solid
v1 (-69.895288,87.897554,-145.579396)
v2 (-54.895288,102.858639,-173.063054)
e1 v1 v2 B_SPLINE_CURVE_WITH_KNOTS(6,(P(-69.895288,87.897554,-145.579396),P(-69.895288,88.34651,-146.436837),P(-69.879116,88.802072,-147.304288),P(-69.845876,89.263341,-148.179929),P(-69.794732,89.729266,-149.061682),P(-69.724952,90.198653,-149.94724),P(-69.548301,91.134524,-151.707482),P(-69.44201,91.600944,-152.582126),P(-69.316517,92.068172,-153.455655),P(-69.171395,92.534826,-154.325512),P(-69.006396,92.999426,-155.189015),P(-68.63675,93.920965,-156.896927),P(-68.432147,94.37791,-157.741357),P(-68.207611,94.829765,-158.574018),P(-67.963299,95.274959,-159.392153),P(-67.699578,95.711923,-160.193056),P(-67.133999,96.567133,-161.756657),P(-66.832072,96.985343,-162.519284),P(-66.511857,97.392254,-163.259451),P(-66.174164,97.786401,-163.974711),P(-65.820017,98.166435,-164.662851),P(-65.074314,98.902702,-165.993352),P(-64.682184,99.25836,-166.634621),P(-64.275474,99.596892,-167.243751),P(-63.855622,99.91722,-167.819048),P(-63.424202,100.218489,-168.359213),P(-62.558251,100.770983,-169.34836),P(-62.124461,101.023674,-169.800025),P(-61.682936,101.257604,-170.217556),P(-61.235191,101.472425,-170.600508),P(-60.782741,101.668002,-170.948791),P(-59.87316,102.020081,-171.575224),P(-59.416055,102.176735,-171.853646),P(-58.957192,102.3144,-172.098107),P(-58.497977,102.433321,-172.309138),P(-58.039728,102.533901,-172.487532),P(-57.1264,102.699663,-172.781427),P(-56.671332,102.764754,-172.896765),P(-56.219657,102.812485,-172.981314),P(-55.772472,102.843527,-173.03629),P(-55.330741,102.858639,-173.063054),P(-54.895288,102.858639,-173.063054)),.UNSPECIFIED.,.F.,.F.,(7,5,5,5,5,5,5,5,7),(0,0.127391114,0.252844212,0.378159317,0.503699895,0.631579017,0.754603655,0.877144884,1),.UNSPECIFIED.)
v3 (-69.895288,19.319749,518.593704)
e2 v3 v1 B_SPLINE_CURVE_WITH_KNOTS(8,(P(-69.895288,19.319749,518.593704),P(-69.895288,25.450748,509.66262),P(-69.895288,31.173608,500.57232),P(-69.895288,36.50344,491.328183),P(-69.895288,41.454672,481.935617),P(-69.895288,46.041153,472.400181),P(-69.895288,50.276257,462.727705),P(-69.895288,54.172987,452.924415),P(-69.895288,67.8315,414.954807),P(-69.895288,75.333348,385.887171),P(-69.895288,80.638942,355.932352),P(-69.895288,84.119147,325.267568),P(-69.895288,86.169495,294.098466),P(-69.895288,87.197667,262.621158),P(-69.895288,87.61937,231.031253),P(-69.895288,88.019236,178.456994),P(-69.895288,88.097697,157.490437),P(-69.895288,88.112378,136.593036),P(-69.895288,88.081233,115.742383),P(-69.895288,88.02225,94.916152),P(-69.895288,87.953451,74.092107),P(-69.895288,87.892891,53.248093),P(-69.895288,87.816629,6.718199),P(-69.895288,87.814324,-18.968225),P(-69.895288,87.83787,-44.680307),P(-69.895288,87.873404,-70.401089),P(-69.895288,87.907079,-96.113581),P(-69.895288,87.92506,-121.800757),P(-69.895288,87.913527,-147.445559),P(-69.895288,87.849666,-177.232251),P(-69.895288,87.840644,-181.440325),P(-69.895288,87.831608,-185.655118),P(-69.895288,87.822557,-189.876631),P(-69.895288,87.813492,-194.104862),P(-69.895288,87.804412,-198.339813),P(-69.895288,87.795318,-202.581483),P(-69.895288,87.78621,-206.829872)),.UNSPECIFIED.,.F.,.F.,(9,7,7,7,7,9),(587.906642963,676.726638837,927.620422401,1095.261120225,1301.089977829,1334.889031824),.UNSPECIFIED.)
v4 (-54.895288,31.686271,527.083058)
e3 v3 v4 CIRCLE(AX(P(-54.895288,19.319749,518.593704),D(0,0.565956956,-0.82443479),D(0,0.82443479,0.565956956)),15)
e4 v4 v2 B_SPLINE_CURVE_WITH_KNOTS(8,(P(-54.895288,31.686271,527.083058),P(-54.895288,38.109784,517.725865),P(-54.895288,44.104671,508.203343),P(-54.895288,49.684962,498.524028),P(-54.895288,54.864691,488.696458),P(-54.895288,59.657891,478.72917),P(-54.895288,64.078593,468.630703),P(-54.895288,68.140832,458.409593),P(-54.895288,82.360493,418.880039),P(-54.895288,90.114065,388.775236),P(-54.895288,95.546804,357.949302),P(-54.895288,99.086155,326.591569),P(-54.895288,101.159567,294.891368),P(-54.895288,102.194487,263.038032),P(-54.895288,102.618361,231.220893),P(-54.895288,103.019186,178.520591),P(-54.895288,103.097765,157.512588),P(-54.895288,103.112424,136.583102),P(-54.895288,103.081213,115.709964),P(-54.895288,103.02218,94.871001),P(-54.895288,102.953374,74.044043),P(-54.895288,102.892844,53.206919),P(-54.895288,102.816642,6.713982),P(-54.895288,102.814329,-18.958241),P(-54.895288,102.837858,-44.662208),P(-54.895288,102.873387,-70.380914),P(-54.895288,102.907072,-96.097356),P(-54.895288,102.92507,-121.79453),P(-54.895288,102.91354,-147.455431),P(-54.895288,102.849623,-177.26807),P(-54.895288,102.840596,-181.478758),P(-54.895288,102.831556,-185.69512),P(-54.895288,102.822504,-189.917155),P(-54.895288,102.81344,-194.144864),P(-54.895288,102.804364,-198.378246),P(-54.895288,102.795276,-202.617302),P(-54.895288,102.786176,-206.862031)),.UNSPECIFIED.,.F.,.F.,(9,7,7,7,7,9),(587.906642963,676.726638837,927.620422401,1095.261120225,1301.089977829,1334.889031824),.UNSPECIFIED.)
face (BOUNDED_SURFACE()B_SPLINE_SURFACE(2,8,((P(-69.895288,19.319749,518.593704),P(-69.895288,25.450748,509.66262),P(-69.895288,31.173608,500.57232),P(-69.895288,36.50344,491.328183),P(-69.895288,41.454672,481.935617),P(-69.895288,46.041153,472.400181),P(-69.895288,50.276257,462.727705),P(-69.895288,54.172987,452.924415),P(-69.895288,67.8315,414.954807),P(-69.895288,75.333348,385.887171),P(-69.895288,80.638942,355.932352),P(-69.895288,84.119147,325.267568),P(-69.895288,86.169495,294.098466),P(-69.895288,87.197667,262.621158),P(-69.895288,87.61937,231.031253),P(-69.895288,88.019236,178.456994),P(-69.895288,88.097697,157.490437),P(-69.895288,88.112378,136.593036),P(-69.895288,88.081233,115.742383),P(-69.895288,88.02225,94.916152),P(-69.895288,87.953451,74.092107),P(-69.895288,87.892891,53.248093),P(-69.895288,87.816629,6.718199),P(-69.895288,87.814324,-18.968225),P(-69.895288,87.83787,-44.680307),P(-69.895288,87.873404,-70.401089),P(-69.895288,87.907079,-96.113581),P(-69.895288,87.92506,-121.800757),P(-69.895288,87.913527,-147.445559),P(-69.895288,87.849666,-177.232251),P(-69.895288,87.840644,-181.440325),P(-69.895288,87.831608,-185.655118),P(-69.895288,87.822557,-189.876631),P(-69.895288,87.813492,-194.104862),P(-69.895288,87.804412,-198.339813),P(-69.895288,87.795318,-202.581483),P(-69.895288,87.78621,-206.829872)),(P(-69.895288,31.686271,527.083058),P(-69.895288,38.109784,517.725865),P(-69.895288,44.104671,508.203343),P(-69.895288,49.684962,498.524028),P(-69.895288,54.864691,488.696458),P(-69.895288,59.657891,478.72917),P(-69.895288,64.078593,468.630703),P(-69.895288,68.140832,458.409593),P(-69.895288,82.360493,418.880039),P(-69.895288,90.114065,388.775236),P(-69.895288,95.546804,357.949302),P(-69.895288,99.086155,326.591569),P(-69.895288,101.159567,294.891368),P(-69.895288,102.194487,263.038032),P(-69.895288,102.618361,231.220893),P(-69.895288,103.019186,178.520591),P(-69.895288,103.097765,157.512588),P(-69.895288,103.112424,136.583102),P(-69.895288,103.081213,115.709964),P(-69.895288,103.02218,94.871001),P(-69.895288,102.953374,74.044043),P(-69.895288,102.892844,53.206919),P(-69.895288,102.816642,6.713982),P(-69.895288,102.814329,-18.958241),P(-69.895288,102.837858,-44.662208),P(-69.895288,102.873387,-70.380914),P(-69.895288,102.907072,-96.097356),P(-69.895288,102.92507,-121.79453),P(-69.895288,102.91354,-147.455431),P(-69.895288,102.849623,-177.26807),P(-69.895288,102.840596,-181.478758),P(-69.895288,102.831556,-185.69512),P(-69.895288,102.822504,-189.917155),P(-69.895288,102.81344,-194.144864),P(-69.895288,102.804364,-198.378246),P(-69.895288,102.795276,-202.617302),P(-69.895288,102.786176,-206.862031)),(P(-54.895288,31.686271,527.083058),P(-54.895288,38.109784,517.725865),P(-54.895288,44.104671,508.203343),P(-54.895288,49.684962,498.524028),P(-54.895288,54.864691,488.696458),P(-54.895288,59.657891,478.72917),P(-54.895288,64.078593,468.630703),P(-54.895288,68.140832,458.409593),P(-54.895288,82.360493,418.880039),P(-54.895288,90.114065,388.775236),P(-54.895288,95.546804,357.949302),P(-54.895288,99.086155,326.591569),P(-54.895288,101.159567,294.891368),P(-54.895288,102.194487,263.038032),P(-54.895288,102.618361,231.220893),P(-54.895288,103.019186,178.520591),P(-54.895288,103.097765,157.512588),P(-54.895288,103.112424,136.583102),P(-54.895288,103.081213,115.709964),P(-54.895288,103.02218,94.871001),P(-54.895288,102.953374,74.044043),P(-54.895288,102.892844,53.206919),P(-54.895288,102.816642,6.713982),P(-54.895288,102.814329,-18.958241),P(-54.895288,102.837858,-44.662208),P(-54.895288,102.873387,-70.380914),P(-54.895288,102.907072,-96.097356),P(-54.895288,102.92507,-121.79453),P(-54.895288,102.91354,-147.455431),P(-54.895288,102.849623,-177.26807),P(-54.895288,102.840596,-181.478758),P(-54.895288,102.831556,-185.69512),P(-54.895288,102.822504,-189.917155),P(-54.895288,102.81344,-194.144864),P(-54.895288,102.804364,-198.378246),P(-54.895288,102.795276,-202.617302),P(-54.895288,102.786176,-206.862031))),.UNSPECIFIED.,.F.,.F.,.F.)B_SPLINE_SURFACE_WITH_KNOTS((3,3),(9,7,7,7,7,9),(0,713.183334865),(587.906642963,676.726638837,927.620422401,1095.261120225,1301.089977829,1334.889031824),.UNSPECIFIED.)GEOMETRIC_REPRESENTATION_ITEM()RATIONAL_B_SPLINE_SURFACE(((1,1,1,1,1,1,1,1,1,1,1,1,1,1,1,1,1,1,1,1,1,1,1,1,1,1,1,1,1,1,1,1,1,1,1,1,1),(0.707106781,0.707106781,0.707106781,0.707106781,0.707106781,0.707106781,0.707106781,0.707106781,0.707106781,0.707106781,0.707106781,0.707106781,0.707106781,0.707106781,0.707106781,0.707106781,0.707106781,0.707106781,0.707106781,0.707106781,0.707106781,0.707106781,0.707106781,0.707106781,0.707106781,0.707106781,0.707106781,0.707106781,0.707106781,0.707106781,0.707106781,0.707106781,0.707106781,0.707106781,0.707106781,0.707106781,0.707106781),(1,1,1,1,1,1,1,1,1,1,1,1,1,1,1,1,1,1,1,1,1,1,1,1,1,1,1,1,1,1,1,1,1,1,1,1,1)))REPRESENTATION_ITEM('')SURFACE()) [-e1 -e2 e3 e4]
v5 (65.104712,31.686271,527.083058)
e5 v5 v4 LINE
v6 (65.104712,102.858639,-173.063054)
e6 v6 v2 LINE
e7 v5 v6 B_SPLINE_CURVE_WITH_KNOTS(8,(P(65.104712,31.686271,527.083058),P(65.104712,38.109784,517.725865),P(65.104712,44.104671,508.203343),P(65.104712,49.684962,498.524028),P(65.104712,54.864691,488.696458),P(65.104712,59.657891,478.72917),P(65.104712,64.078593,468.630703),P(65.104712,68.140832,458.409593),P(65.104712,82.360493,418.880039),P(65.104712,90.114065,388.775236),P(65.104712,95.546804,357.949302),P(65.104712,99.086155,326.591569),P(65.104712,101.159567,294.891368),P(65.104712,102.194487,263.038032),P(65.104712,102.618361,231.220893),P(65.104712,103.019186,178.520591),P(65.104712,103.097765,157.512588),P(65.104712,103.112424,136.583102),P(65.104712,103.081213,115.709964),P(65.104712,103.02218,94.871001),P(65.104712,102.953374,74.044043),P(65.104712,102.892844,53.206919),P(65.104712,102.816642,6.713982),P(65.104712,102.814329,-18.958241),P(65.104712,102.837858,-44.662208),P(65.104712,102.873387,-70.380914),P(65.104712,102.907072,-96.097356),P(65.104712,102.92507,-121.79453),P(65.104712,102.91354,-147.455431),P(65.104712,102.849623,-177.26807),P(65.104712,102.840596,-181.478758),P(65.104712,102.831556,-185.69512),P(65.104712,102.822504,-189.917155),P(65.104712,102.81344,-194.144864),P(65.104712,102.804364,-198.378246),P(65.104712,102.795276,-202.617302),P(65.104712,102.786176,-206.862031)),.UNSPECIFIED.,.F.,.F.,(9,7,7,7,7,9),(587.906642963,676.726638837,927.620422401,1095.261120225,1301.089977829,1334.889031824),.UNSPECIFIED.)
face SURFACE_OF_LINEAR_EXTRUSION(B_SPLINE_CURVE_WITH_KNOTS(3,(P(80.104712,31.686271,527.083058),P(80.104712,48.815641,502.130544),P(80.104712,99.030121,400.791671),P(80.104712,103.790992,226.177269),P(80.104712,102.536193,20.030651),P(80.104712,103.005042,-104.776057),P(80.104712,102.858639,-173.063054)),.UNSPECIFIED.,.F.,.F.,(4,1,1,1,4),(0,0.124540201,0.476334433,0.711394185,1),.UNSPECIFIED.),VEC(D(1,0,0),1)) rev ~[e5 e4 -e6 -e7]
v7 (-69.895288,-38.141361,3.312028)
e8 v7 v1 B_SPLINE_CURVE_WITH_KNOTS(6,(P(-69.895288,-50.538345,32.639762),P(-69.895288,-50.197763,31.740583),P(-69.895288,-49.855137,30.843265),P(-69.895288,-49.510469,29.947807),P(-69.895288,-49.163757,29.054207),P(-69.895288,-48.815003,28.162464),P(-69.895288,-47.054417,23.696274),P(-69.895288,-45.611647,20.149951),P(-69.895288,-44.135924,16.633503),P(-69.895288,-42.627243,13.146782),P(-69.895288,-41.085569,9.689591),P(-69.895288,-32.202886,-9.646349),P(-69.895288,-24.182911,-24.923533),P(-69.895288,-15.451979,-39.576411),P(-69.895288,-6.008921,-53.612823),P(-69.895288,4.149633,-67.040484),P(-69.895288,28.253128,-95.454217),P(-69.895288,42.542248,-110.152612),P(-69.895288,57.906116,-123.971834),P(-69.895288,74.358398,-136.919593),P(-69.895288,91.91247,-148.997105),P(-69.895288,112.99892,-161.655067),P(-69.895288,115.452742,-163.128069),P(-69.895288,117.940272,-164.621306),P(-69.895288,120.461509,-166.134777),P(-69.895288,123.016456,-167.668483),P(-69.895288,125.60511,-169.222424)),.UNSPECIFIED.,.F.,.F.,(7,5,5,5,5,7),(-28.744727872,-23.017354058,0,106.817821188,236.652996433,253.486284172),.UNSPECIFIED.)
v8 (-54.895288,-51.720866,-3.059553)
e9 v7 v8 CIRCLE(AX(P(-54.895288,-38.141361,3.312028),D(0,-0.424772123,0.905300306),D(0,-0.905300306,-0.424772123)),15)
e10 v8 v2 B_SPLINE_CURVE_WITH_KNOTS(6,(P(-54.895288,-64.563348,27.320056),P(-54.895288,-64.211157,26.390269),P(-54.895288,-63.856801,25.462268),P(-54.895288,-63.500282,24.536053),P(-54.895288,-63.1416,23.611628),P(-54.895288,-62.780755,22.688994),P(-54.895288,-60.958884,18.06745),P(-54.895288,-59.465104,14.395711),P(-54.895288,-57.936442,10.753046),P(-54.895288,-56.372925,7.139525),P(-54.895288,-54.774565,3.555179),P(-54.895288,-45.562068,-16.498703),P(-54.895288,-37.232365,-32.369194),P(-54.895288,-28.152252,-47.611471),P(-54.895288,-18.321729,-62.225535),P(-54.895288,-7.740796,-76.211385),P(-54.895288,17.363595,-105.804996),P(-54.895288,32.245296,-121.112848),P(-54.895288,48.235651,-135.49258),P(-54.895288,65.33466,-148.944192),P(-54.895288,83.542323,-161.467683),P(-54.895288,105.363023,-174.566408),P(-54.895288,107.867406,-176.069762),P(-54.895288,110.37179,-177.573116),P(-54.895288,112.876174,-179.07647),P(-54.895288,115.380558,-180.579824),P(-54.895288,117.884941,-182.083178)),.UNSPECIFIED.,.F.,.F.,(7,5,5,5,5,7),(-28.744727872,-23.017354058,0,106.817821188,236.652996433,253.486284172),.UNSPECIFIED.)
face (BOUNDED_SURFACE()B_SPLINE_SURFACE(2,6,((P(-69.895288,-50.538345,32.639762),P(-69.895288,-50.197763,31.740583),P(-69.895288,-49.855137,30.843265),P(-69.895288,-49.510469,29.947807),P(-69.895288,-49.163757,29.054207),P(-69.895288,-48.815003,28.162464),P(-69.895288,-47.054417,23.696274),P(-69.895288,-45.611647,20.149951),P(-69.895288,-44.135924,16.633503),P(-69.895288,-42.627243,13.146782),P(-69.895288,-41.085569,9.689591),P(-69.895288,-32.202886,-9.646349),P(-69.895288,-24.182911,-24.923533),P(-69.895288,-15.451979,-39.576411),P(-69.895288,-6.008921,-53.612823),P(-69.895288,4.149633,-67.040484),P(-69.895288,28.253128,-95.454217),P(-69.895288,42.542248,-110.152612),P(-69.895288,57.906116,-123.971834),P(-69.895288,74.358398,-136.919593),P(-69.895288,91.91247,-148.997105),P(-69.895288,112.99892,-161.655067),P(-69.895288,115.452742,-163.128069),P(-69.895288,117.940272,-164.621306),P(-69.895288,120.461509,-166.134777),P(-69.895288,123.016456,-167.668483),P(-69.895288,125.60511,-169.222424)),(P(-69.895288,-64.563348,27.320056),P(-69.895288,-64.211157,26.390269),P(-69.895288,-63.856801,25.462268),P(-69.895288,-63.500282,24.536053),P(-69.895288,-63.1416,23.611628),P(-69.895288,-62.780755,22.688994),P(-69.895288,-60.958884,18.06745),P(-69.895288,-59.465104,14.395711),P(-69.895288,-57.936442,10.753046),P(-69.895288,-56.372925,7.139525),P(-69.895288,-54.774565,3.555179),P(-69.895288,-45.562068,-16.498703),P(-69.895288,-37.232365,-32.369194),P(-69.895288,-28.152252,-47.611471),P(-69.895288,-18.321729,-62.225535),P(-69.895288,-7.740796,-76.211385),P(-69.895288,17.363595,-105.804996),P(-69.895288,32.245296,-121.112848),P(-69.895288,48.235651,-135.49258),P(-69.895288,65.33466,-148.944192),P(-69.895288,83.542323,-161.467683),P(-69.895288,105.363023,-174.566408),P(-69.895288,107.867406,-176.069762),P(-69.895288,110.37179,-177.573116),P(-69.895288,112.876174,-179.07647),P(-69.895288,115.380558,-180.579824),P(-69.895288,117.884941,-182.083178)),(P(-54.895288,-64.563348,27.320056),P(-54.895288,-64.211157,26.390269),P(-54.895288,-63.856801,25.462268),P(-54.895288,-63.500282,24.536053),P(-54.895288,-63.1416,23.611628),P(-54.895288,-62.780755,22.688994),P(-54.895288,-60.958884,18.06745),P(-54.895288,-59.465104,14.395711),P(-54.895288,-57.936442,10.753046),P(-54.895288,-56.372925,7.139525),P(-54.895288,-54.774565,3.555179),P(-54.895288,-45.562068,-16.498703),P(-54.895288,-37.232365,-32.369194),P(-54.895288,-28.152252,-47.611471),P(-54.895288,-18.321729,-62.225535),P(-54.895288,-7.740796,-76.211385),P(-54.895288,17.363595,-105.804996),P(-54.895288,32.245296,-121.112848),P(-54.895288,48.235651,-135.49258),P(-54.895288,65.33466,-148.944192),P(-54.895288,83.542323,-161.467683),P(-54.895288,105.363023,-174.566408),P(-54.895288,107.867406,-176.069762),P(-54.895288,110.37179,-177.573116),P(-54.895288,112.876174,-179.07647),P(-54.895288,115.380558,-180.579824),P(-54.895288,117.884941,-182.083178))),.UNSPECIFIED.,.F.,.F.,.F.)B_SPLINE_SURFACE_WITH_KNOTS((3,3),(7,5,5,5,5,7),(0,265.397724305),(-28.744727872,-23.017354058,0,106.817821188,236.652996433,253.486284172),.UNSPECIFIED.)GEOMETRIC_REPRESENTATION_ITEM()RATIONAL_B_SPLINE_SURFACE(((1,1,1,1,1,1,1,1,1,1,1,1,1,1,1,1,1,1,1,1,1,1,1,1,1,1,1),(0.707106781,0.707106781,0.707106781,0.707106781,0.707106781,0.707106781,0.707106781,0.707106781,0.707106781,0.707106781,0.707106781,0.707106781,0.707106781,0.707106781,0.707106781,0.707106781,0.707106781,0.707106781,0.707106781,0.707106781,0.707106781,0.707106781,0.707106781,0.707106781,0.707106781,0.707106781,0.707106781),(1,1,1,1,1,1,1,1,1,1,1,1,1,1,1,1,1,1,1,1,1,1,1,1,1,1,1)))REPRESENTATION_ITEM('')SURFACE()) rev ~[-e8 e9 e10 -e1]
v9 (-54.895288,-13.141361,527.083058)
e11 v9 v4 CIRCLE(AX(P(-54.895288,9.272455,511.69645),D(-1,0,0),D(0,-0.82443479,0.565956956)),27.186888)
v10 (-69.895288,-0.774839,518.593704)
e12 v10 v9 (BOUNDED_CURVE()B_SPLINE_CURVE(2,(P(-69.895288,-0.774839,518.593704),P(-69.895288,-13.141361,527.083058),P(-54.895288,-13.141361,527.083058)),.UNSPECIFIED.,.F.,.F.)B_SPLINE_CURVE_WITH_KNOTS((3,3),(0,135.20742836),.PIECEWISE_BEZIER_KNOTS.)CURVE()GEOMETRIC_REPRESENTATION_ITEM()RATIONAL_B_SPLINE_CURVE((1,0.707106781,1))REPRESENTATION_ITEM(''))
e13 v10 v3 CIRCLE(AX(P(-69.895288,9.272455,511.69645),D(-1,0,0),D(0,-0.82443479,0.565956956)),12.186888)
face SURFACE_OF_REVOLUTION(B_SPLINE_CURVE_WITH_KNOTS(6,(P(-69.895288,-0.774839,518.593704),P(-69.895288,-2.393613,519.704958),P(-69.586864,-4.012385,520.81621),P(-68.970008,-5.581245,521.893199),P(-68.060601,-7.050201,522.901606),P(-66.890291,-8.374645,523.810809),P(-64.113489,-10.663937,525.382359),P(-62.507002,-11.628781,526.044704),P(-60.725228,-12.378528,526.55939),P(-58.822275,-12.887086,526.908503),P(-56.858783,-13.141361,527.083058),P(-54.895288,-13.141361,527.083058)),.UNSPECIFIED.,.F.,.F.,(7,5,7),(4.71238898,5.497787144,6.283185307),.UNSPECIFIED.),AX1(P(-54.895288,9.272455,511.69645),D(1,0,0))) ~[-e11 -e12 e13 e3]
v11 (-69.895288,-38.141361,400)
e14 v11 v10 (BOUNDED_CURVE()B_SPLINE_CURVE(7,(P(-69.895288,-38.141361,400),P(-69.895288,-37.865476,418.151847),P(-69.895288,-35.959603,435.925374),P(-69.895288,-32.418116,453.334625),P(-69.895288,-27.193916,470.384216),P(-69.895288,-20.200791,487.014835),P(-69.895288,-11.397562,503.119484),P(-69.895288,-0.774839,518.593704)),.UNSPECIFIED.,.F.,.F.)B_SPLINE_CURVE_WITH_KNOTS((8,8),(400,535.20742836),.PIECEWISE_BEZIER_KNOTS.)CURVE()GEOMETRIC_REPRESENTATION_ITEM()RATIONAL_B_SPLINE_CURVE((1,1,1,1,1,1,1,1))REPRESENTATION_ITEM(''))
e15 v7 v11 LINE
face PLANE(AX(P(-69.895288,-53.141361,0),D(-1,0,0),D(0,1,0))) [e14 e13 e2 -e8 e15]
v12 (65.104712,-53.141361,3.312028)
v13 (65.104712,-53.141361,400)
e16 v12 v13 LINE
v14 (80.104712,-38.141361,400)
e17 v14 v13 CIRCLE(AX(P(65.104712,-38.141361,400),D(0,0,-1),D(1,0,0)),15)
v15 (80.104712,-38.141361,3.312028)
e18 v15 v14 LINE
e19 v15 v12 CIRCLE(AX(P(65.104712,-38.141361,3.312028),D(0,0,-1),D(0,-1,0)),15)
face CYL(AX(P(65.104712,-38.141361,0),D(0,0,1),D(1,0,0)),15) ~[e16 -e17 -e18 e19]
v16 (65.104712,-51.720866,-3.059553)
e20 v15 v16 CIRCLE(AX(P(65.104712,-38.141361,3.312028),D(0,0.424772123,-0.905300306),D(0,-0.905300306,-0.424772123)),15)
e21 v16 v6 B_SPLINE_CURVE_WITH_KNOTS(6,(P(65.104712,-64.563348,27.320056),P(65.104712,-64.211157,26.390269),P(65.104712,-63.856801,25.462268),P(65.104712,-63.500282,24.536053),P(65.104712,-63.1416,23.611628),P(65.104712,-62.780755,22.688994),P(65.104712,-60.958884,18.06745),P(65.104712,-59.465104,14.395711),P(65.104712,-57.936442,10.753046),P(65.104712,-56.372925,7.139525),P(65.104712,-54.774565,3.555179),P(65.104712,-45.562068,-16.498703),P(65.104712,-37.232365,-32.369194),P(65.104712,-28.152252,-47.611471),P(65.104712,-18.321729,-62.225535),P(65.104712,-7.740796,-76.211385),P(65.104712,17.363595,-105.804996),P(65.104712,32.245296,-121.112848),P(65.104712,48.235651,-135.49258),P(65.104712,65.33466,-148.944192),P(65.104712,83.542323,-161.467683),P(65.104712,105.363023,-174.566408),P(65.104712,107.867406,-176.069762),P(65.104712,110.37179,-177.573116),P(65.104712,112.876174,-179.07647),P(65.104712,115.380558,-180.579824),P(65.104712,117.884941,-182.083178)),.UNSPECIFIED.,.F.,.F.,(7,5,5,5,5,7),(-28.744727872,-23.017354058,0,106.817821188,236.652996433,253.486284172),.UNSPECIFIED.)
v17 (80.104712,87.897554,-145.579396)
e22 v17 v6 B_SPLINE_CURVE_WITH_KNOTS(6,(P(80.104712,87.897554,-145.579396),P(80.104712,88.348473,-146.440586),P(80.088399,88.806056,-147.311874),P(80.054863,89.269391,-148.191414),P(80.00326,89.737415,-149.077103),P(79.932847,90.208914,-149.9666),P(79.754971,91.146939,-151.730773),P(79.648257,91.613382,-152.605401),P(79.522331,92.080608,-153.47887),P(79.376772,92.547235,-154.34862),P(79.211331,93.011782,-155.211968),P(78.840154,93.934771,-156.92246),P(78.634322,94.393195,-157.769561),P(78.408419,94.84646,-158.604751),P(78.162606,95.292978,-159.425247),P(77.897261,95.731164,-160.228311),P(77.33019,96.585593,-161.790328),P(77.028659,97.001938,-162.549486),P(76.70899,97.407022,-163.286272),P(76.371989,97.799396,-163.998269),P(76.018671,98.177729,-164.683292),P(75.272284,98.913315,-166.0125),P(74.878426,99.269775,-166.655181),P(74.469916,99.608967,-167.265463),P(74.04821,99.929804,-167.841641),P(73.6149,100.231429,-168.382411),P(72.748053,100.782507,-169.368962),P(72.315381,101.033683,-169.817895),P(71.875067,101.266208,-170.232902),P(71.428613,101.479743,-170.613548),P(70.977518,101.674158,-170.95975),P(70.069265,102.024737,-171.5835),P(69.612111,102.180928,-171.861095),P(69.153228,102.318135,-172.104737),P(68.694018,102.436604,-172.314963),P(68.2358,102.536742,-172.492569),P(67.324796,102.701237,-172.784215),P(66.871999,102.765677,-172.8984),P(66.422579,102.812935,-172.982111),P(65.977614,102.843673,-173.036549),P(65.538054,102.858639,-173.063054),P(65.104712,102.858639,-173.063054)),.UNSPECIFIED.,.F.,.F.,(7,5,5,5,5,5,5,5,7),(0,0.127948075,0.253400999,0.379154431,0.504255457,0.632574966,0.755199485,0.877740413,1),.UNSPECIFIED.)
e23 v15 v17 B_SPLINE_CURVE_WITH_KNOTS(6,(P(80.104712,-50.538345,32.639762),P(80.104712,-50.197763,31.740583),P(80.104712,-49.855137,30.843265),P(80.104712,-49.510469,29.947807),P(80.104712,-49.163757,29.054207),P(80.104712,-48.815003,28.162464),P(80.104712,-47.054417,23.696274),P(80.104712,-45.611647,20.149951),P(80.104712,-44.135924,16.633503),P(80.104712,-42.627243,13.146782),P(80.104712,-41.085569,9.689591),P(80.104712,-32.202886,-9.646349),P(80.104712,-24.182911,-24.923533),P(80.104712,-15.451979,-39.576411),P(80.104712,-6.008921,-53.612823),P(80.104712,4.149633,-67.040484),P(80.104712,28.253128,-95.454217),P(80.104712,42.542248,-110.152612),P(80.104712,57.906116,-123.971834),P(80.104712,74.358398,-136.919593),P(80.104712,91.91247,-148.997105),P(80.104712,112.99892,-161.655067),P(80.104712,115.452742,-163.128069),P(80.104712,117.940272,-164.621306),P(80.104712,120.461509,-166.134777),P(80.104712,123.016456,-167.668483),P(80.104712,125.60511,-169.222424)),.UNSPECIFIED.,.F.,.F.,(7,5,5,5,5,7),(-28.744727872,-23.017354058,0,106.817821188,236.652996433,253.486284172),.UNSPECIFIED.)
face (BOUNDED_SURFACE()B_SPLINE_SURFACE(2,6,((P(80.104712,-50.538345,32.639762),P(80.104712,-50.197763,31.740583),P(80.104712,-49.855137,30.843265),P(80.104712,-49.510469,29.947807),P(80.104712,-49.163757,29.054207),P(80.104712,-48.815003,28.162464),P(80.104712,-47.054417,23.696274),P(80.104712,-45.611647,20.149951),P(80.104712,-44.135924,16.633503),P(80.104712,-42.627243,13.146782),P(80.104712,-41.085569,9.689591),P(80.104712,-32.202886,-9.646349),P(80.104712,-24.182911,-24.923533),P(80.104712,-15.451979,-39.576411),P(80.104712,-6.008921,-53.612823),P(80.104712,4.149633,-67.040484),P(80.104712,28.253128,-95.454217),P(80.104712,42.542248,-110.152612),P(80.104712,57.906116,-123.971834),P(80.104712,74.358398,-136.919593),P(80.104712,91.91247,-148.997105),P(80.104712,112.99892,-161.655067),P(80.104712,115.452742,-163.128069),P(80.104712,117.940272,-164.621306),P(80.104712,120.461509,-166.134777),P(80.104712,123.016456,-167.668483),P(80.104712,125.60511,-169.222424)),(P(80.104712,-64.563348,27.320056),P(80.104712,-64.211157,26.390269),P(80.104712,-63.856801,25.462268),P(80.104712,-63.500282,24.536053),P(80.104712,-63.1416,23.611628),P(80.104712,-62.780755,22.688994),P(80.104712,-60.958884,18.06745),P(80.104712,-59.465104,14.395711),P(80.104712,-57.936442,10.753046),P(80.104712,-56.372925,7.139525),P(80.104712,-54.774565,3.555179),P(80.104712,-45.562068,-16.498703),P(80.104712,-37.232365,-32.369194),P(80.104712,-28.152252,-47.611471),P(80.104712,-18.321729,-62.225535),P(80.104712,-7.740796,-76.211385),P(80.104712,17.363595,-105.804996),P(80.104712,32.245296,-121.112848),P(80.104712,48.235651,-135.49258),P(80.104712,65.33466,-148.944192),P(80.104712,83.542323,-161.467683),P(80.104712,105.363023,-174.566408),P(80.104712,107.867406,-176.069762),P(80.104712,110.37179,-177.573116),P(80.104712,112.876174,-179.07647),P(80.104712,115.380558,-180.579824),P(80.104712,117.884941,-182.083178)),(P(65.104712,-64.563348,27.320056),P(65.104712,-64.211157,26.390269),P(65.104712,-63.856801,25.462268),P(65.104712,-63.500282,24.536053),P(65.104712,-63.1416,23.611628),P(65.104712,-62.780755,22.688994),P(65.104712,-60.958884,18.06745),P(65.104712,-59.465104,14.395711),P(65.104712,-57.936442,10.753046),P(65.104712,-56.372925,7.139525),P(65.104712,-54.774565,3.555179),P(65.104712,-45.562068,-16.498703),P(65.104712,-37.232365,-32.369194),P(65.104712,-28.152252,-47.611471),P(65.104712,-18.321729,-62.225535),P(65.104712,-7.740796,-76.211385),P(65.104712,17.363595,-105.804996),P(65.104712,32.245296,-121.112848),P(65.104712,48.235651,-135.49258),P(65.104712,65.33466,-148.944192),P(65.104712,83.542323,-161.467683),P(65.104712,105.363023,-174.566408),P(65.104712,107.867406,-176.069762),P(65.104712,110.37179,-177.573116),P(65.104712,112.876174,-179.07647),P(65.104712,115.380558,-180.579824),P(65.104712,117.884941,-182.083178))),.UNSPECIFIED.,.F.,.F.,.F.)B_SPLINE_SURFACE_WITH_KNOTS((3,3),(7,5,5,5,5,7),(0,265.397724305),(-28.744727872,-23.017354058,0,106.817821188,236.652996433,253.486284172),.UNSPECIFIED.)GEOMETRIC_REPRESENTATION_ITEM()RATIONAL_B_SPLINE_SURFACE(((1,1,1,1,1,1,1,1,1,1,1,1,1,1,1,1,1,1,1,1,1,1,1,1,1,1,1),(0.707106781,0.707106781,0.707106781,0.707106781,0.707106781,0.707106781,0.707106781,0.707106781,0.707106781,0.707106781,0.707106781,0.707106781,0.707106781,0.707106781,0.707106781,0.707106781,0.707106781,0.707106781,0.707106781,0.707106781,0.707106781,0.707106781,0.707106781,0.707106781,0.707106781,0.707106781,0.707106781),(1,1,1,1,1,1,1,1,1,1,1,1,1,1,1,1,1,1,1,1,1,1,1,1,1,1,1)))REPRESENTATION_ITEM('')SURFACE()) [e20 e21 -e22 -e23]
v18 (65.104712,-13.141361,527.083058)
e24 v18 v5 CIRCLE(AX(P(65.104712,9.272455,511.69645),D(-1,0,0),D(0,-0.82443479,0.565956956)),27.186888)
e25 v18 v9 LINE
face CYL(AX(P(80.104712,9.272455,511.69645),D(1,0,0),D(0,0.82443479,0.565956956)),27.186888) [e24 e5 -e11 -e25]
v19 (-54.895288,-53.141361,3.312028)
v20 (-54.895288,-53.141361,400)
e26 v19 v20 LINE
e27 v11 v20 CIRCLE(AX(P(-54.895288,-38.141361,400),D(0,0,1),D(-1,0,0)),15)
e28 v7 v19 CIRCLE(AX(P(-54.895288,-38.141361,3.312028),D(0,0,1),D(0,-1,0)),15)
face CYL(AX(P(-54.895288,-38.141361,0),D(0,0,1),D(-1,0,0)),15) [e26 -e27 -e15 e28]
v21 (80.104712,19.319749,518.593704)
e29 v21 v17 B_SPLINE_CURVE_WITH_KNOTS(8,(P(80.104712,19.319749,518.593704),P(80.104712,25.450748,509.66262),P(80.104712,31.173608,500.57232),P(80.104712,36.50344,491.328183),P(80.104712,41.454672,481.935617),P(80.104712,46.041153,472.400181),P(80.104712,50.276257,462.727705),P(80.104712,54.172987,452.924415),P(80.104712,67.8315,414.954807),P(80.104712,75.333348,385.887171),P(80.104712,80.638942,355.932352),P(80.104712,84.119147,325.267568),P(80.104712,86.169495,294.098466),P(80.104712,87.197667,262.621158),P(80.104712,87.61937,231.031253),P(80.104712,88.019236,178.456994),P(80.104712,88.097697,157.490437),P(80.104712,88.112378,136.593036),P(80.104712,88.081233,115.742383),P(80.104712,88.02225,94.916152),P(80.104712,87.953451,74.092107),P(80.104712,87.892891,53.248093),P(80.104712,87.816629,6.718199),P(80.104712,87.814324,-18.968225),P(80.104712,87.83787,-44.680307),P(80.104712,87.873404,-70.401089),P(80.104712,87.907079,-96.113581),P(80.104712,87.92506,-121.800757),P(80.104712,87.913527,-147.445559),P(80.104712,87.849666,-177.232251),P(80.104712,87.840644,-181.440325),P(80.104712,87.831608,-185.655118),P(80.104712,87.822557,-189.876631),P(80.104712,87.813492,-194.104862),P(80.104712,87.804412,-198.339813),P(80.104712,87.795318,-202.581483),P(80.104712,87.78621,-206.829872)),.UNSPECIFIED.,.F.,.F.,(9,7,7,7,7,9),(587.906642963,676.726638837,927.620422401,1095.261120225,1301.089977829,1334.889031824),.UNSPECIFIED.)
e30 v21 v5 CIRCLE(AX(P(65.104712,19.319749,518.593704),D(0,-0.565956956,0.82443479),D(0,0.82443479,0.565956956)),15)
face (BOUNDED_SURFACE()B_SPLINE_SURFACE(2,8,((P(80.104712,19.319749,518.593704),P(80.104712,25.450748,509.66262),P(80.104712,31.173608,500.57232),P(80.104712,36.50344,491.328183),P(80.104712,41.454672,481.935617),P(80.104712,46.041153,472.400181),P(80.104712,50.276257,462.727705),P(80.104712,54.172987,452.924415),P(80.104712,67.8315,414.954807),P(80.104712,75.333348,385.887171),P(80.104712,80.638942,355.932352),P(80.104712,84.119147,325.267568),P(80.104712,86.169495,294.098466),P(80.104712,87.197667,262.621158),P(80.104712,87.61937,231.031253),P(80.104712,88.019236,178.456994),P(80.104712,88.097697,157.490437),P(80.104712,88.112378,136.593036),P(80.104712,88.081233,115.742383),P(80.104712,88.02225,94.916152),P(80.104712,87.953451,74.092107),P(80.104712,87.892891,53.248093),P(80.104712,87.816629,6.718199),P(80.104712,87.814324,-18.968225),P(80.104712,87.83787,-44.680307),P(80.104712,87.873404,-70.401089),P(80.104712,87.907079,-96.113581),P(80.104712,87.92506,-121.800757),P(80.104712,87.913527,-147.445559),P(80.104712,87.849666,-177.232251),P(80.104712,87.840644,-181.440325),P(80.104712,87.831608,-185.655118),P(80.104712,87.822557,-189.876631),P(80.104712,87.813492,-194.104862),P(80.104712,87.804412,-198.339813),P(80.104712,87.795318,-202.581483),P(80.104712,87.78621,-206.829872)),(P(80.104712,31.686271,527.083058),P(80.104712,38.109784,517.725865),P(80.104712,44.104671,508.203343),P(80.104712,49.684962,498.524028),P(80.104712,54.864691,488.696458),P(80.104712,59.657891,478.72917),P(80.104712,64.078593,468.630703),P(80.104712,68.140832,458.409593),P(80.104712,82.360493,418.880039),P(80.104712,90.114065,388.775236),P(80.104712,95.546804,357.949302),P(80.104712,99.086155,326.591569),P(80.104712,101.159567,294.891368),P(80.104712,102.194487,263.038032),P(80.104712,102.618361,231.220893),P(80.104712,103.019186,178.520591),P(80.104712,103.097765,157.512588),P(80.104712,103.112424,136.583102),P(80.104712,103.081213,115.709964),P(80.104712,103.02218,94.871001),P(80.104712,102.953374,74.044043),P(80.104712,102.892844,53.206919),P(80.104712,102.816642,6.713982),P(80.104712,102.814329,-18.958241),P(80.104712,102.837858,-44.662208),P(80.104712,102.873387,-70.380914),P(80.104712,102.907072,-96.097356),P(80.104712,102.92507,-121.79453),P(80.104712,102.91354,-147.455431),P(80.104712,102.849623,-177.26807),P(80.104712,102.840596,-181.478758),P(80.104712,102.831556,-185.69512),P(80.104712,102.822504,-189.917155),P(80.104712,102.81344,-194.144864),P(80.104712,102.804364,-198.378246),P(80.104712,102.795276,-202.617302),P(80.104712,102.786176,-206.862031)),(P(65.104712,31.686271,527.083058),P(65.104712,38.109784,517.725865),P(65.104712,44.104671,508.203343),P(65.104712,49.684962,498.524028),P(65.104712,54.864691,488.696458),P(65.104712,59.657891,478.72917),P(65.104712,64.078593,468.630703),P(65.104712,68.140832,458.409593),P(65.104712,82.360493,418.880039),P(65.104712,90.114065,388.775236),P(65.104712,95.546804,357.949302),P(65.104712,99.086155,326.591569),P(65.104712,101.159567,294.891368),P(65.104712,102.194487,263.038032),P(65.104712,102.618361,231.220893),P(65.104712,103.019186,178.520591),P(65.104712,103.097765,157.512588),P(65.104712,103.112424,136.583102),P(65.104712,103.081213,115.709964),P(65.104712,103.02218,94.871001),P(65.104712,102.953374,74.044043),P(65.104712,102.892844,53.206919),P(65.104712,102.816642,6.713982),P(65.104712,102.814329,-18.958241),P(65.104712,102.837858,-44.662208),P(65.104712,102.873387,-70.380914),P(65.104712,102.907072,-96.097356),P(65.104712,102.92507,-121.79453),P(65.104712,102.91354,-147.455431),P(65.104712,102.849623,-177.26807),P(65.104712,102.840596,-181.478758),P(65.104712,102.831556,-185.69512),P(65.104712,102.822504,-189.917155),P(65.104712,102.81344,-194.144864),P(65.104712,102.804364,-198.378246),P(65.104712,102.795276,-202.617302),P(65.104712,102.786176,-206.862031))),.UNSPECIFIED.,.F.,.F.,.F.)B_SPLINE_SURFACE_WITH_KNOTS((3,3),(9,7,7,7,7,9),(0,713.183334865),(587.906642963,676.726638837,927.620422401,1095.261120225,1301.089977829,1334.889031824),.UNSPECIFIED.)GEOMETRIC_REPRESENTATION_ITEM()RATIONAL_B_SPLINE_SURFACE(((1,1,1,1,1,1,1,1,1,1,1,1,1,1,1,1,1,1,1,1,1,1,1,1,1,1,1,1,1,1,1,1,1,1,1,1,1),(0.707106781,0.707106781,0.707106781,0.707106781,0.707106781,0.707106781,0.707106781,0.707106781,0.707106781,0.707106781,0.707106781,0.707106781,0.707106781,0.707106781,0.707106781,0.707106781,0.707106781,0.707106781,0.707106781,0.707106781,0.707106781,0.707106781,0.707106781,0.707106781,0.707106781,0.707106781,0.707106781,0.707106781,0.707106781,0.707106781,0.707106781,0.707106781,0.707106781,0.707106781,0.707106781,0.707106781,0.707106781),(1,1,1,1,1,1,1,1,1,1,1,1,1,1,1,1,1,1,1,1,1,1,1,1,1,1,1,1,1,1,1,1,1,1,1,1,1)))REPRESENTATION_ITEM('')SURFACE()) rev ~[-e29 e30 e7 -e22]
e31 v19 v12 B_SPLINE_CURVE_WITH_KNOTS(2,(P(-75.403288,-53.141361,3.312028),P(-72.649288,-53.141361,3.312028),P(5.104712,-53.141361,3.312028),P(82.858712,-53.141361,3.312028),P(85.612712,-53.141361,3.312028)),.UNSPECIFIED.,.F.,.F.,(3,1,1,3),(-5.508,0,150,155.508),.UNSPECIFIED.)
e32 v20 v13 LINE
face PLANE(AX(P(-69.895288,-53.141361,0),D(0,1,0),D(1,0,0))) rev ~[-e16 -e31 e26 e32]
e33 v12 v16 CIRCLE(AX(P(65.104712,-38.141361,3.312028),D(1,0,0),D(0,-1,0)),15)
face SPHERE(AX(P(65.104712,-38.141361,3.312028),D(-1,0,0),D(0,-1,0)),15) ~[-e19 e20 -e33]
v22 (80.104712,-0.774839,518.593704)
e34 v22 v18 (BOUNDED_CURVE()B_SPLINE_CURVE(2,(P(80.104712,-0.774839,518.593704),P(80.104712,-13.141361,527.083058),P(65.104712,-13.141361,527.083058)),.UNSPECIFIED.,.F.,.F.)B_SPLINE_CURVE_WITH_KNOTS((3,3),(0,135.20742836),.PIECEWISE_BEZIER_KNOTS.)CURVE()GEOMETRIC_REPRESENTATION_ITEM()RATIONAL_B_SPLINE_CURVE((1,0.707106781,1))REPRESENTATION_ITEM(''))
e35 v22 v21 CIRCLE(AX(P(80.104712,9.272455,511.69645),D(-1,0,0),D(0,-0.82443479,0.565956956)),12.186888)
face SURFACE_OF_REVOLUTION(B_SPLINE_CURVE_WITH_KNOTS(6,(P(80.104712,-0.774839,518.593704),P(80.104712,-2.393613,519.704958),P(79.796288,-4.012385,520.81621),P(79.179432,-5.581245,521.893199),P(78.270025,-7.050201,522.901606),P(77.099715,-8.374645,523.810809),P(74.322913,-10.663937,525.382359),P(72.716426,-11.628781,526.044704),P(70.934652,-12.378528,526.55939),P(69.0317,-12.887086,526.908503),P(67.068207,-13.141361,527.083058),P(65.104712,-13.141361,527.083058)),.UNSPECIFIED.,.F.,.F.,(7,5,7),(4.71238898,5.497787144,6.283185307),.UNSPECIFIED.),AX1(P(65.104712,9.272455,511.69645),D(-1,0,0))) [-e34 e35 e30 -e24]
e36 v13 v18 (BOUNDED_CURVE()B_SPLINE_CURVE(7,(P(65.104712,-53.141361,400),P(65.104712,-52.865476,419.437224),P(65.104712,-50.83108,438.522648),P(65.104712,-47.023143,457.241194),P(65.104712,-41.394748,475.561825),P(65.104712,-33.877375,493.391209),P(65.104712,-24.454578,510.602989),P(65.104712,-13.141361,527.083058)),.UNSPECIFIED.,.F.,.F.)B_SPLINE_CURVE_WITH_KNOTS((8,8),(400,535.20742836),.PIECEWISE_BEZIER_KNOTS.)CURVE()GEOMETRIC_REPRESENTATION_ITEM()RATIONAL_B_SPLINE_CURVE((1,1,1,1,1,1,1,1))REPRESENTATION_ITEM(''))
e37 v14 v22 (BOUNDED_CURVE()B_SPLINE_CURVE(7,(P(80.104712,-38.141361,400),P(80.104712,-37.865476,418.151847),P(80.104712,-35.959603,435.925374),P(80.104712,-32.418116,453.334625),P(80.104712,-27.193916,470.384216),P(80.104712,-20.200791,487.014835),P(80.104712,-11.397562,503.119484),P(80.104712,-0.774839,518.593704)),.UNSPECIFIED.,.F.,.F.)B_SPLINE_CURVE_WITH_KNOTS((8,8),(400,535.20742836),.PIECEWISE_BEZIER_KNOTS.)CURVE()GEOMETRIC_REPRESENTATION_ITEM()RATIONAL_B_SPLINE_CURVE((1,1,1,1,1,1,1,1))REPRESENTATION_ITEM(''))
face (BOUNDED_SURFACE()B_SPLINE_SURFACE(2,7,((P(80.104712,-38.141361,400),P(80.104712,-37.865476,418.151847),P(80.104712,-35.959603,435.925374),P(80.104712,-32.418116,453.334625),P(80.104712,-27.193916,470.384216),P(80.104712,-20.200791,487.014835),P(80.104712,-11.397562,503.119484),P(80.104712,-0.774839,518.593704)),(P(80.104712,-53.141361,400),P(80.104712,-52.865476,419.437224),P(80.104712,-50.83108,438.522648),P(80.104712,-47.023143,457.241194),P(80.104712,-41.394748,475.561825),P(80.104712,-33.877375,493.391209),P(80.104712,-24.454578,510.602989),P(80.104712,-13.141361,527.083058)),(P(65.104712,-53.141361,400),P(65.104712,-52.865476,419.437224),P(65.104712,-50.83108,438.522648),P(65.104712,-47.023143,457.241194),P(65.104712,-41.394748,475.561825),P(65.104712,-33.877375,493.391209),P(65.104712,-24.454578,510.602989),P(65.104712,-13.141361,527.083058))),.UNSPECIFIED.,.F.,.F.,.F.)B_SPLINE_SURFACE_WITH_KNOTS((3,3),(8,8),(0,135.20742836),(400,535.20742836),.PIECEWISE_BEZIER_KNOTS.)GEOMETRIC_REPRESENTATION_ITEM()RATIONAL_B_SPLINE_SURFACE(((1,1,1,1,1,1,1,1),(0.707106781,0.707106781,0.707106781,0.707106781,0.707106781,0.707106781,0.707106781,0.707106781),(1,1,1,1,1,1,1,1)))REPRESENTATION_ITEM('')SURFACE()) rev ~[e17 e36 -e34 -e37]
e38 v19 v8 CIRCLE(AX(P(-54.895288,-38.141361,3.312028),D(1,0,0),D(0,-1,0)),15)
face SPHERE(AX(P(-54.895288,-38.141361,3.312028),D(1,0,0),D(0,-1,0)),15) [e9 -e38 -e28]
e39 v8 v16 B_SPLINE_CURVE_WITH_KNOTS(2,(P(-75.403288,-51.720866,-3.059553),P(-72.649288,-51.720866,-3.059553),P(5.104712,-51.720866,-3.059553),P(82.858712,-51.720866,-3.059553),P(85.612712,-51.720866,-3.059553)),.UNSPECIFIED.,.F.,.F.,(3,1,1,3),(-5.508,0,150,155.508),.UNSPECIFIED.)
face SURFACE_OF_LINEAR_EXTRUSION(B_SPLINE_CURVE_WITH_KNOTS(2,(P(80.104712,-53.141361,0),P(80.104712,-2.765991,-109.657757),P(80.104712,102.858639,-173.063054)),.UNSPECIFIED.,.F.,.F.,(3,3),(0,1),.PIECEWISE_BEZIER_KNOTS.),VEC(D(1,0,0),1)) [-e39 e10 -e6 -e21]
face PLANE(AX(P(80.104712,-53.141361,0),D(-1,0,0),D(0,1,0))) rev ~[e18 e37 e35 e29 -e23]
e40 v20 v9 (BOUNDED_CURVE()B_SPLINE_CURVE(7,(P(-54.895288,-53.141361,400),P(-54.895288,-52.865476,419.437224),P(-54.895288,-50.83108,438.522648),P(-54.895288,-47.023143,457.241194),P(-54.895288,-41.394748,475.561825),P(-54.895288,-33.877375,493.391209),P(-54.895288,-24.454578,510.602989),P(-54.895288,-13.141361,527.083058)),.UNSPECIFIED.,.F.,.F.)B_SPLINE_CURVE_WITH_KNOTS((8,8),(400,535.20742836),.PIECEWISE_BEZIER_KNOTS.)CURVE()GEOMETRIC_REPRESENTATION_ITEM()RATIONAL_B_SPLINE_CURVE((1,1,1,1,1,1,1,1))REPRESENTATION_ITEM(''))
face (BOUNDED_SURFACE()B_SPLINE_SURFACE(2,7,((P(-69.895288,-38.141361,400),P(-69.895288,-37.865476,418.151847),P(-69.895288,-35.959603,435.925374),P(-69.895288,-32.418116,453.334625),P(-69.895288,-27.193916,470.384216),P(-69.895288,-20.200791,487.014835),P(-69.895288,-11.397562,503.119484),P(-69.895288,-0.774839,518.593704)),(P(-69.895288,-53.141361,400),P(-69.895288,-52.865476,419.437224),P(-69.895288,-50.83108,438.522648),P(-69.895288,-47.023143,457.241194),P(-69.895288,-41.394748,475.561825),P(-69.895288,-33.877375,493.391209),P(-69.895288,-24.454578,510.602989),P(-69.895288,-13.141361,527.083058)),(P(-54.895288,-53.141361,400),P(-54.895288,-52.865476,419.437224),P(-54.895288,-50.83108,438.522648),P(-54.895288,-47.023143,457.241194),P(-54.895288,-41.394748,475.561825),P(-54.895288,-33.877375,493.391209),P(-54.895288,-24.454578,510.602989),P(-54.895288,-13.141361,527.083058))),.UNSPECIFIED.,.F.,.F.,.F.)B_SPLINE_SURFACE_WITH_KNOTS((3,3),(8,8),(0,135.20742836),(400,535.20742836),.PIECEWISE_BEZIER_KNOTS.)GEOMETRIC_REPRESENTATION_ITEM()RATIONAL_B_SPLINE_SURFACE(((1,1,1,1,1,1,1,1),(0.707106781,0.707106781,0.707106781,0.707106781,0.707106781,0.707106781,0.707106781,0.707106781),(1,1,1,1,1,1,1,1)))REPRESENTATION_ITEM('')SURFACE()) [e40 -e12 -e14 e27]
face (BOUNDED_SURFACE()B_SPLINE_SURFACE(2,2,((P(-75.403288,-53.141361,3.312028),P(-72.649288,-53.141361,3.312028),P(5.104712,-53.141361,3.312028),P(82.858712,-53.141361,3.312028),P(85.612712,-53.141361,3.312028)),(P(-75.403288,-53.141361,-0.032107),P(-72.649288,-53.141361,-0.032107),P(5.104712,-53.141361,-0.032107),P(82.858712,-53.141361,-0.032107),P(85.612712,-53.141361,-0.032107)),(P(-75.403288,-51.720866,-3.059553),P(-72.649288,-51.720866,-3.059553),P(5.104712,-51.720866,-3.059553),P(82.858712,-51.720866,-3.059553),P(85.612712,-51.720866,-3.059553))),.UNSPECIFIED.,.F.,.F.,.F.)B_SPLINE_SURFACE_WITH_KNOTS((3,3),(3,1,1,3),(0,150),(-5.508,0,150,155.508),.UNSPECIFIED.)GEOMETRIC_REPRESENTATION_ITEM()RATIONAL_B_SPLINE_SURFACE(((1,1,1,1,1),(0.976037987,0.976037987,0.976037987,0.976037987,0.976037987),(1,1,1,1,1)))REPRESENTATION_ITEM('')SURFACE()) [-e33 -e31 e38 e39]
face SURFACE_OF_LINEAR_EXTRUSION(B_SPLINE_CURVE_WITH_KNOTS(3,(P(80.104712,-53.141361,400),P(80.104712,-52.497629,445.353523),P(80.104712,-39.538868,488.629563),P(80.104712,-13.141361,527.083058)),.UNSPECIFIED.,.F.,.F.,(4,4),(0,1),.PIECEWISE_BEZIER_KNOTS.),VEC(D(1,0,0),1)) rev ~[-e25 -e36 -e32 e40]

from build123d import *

# Parameters (mm, degrees)
SKETCH1_W           = 150
SKETCH1_H           = 125
BOSS_EXTRUDE1_DEPTH = 400
BOSS_EXTRUDE2_DEPTH = 150
FILLET1_R           = 15


with BuildPart() as part:
    # Sketch1 → Boss-Extrude1 (new body)
    with BuildSketch(Plane.XY):
        with Locations((5.104712042, 9.358638743)):
            Rectangle(SKETCH1_W, SKETCH1_H)
    extrude(amount=BOSS_EXTRUDE1_DEPTH)

    # Sketch2 → Boss-Extrude2 (add)
    with BuildSketch(Plane(origin=(80.104712042, 0, 0), x_dir=(0, 0, -1), z_dir=(1, 0, 0))):
        with BuildLine():
            Line((-400, -53.141361257), (0, -53.141361257))
            add(Edge.make_bspline(
                [(0, -53.141361257), (109.657757417, -2.76599099), (173.063054437, 102.858638743)],
                knots=[0, 0, 0, 1, 1, 1], degree=2))
            add(Edge.make_bspline(
                [(-527.083058108, 31.686270557), (-502.130544308, 48.8156408), (-400.791671341, 99.030121285), (-226.177268831, 103.790992089), (-20.030650849, 102.536192565), (104.776057331, 103.005042445), (173.063054437, 102.858638743)],
                knots=[0, 0, 0, 0, 0.124540201, 0.476334433, 0.711394185, 1, 1, 1, 1], degree=3))
            ThreePointArc((-527.083058108, 31.686270557), (-538.88333751, 9.27245465), (-527.083058108, -13.141361257))
            add(Edge.make_bspline(
                [(-400, -53.141361257), (-445.353522893, -52.497628707), (-488.629563407, -39.538867863), (-527.083058108, -13.141361257)],
                knots=[0, 0, 0, 0, 1, 1, 1, 1], degree=3))
        make_face()
    extrude(amount=-BOSS_EXTRUDE2_DEPTH)

    # Fillet1
    fillet1_edges = [part.edges().sort_by_distance(p)[0] for p in [
        (80.104712042, -42.668235376, 466.548321311),
        (80.104712042, 11.477981034, -98.572691707),
        (80.104712042, 102.961238591, 183.528114028),
        (80.104712042, 9.27245465, 538.88333751),
        (-69.895287958, -42.668235376, 466.548321311),
        (-69.895287958, 9.27245465, 538.88333751),
        (-69.895287958, 102.961238591, 183.528114028),
        (-69.895287958, 11.477981034, -98.572691707),
        (5.104712042, -53.141361257, 0),
        (80.104712042, -53.141361257, 200),
        (-69.895287958, -53.141361257, 200),
    ]]
    fillet(fillet1_edges, radius=FILLET1_R)


solid = part.part
